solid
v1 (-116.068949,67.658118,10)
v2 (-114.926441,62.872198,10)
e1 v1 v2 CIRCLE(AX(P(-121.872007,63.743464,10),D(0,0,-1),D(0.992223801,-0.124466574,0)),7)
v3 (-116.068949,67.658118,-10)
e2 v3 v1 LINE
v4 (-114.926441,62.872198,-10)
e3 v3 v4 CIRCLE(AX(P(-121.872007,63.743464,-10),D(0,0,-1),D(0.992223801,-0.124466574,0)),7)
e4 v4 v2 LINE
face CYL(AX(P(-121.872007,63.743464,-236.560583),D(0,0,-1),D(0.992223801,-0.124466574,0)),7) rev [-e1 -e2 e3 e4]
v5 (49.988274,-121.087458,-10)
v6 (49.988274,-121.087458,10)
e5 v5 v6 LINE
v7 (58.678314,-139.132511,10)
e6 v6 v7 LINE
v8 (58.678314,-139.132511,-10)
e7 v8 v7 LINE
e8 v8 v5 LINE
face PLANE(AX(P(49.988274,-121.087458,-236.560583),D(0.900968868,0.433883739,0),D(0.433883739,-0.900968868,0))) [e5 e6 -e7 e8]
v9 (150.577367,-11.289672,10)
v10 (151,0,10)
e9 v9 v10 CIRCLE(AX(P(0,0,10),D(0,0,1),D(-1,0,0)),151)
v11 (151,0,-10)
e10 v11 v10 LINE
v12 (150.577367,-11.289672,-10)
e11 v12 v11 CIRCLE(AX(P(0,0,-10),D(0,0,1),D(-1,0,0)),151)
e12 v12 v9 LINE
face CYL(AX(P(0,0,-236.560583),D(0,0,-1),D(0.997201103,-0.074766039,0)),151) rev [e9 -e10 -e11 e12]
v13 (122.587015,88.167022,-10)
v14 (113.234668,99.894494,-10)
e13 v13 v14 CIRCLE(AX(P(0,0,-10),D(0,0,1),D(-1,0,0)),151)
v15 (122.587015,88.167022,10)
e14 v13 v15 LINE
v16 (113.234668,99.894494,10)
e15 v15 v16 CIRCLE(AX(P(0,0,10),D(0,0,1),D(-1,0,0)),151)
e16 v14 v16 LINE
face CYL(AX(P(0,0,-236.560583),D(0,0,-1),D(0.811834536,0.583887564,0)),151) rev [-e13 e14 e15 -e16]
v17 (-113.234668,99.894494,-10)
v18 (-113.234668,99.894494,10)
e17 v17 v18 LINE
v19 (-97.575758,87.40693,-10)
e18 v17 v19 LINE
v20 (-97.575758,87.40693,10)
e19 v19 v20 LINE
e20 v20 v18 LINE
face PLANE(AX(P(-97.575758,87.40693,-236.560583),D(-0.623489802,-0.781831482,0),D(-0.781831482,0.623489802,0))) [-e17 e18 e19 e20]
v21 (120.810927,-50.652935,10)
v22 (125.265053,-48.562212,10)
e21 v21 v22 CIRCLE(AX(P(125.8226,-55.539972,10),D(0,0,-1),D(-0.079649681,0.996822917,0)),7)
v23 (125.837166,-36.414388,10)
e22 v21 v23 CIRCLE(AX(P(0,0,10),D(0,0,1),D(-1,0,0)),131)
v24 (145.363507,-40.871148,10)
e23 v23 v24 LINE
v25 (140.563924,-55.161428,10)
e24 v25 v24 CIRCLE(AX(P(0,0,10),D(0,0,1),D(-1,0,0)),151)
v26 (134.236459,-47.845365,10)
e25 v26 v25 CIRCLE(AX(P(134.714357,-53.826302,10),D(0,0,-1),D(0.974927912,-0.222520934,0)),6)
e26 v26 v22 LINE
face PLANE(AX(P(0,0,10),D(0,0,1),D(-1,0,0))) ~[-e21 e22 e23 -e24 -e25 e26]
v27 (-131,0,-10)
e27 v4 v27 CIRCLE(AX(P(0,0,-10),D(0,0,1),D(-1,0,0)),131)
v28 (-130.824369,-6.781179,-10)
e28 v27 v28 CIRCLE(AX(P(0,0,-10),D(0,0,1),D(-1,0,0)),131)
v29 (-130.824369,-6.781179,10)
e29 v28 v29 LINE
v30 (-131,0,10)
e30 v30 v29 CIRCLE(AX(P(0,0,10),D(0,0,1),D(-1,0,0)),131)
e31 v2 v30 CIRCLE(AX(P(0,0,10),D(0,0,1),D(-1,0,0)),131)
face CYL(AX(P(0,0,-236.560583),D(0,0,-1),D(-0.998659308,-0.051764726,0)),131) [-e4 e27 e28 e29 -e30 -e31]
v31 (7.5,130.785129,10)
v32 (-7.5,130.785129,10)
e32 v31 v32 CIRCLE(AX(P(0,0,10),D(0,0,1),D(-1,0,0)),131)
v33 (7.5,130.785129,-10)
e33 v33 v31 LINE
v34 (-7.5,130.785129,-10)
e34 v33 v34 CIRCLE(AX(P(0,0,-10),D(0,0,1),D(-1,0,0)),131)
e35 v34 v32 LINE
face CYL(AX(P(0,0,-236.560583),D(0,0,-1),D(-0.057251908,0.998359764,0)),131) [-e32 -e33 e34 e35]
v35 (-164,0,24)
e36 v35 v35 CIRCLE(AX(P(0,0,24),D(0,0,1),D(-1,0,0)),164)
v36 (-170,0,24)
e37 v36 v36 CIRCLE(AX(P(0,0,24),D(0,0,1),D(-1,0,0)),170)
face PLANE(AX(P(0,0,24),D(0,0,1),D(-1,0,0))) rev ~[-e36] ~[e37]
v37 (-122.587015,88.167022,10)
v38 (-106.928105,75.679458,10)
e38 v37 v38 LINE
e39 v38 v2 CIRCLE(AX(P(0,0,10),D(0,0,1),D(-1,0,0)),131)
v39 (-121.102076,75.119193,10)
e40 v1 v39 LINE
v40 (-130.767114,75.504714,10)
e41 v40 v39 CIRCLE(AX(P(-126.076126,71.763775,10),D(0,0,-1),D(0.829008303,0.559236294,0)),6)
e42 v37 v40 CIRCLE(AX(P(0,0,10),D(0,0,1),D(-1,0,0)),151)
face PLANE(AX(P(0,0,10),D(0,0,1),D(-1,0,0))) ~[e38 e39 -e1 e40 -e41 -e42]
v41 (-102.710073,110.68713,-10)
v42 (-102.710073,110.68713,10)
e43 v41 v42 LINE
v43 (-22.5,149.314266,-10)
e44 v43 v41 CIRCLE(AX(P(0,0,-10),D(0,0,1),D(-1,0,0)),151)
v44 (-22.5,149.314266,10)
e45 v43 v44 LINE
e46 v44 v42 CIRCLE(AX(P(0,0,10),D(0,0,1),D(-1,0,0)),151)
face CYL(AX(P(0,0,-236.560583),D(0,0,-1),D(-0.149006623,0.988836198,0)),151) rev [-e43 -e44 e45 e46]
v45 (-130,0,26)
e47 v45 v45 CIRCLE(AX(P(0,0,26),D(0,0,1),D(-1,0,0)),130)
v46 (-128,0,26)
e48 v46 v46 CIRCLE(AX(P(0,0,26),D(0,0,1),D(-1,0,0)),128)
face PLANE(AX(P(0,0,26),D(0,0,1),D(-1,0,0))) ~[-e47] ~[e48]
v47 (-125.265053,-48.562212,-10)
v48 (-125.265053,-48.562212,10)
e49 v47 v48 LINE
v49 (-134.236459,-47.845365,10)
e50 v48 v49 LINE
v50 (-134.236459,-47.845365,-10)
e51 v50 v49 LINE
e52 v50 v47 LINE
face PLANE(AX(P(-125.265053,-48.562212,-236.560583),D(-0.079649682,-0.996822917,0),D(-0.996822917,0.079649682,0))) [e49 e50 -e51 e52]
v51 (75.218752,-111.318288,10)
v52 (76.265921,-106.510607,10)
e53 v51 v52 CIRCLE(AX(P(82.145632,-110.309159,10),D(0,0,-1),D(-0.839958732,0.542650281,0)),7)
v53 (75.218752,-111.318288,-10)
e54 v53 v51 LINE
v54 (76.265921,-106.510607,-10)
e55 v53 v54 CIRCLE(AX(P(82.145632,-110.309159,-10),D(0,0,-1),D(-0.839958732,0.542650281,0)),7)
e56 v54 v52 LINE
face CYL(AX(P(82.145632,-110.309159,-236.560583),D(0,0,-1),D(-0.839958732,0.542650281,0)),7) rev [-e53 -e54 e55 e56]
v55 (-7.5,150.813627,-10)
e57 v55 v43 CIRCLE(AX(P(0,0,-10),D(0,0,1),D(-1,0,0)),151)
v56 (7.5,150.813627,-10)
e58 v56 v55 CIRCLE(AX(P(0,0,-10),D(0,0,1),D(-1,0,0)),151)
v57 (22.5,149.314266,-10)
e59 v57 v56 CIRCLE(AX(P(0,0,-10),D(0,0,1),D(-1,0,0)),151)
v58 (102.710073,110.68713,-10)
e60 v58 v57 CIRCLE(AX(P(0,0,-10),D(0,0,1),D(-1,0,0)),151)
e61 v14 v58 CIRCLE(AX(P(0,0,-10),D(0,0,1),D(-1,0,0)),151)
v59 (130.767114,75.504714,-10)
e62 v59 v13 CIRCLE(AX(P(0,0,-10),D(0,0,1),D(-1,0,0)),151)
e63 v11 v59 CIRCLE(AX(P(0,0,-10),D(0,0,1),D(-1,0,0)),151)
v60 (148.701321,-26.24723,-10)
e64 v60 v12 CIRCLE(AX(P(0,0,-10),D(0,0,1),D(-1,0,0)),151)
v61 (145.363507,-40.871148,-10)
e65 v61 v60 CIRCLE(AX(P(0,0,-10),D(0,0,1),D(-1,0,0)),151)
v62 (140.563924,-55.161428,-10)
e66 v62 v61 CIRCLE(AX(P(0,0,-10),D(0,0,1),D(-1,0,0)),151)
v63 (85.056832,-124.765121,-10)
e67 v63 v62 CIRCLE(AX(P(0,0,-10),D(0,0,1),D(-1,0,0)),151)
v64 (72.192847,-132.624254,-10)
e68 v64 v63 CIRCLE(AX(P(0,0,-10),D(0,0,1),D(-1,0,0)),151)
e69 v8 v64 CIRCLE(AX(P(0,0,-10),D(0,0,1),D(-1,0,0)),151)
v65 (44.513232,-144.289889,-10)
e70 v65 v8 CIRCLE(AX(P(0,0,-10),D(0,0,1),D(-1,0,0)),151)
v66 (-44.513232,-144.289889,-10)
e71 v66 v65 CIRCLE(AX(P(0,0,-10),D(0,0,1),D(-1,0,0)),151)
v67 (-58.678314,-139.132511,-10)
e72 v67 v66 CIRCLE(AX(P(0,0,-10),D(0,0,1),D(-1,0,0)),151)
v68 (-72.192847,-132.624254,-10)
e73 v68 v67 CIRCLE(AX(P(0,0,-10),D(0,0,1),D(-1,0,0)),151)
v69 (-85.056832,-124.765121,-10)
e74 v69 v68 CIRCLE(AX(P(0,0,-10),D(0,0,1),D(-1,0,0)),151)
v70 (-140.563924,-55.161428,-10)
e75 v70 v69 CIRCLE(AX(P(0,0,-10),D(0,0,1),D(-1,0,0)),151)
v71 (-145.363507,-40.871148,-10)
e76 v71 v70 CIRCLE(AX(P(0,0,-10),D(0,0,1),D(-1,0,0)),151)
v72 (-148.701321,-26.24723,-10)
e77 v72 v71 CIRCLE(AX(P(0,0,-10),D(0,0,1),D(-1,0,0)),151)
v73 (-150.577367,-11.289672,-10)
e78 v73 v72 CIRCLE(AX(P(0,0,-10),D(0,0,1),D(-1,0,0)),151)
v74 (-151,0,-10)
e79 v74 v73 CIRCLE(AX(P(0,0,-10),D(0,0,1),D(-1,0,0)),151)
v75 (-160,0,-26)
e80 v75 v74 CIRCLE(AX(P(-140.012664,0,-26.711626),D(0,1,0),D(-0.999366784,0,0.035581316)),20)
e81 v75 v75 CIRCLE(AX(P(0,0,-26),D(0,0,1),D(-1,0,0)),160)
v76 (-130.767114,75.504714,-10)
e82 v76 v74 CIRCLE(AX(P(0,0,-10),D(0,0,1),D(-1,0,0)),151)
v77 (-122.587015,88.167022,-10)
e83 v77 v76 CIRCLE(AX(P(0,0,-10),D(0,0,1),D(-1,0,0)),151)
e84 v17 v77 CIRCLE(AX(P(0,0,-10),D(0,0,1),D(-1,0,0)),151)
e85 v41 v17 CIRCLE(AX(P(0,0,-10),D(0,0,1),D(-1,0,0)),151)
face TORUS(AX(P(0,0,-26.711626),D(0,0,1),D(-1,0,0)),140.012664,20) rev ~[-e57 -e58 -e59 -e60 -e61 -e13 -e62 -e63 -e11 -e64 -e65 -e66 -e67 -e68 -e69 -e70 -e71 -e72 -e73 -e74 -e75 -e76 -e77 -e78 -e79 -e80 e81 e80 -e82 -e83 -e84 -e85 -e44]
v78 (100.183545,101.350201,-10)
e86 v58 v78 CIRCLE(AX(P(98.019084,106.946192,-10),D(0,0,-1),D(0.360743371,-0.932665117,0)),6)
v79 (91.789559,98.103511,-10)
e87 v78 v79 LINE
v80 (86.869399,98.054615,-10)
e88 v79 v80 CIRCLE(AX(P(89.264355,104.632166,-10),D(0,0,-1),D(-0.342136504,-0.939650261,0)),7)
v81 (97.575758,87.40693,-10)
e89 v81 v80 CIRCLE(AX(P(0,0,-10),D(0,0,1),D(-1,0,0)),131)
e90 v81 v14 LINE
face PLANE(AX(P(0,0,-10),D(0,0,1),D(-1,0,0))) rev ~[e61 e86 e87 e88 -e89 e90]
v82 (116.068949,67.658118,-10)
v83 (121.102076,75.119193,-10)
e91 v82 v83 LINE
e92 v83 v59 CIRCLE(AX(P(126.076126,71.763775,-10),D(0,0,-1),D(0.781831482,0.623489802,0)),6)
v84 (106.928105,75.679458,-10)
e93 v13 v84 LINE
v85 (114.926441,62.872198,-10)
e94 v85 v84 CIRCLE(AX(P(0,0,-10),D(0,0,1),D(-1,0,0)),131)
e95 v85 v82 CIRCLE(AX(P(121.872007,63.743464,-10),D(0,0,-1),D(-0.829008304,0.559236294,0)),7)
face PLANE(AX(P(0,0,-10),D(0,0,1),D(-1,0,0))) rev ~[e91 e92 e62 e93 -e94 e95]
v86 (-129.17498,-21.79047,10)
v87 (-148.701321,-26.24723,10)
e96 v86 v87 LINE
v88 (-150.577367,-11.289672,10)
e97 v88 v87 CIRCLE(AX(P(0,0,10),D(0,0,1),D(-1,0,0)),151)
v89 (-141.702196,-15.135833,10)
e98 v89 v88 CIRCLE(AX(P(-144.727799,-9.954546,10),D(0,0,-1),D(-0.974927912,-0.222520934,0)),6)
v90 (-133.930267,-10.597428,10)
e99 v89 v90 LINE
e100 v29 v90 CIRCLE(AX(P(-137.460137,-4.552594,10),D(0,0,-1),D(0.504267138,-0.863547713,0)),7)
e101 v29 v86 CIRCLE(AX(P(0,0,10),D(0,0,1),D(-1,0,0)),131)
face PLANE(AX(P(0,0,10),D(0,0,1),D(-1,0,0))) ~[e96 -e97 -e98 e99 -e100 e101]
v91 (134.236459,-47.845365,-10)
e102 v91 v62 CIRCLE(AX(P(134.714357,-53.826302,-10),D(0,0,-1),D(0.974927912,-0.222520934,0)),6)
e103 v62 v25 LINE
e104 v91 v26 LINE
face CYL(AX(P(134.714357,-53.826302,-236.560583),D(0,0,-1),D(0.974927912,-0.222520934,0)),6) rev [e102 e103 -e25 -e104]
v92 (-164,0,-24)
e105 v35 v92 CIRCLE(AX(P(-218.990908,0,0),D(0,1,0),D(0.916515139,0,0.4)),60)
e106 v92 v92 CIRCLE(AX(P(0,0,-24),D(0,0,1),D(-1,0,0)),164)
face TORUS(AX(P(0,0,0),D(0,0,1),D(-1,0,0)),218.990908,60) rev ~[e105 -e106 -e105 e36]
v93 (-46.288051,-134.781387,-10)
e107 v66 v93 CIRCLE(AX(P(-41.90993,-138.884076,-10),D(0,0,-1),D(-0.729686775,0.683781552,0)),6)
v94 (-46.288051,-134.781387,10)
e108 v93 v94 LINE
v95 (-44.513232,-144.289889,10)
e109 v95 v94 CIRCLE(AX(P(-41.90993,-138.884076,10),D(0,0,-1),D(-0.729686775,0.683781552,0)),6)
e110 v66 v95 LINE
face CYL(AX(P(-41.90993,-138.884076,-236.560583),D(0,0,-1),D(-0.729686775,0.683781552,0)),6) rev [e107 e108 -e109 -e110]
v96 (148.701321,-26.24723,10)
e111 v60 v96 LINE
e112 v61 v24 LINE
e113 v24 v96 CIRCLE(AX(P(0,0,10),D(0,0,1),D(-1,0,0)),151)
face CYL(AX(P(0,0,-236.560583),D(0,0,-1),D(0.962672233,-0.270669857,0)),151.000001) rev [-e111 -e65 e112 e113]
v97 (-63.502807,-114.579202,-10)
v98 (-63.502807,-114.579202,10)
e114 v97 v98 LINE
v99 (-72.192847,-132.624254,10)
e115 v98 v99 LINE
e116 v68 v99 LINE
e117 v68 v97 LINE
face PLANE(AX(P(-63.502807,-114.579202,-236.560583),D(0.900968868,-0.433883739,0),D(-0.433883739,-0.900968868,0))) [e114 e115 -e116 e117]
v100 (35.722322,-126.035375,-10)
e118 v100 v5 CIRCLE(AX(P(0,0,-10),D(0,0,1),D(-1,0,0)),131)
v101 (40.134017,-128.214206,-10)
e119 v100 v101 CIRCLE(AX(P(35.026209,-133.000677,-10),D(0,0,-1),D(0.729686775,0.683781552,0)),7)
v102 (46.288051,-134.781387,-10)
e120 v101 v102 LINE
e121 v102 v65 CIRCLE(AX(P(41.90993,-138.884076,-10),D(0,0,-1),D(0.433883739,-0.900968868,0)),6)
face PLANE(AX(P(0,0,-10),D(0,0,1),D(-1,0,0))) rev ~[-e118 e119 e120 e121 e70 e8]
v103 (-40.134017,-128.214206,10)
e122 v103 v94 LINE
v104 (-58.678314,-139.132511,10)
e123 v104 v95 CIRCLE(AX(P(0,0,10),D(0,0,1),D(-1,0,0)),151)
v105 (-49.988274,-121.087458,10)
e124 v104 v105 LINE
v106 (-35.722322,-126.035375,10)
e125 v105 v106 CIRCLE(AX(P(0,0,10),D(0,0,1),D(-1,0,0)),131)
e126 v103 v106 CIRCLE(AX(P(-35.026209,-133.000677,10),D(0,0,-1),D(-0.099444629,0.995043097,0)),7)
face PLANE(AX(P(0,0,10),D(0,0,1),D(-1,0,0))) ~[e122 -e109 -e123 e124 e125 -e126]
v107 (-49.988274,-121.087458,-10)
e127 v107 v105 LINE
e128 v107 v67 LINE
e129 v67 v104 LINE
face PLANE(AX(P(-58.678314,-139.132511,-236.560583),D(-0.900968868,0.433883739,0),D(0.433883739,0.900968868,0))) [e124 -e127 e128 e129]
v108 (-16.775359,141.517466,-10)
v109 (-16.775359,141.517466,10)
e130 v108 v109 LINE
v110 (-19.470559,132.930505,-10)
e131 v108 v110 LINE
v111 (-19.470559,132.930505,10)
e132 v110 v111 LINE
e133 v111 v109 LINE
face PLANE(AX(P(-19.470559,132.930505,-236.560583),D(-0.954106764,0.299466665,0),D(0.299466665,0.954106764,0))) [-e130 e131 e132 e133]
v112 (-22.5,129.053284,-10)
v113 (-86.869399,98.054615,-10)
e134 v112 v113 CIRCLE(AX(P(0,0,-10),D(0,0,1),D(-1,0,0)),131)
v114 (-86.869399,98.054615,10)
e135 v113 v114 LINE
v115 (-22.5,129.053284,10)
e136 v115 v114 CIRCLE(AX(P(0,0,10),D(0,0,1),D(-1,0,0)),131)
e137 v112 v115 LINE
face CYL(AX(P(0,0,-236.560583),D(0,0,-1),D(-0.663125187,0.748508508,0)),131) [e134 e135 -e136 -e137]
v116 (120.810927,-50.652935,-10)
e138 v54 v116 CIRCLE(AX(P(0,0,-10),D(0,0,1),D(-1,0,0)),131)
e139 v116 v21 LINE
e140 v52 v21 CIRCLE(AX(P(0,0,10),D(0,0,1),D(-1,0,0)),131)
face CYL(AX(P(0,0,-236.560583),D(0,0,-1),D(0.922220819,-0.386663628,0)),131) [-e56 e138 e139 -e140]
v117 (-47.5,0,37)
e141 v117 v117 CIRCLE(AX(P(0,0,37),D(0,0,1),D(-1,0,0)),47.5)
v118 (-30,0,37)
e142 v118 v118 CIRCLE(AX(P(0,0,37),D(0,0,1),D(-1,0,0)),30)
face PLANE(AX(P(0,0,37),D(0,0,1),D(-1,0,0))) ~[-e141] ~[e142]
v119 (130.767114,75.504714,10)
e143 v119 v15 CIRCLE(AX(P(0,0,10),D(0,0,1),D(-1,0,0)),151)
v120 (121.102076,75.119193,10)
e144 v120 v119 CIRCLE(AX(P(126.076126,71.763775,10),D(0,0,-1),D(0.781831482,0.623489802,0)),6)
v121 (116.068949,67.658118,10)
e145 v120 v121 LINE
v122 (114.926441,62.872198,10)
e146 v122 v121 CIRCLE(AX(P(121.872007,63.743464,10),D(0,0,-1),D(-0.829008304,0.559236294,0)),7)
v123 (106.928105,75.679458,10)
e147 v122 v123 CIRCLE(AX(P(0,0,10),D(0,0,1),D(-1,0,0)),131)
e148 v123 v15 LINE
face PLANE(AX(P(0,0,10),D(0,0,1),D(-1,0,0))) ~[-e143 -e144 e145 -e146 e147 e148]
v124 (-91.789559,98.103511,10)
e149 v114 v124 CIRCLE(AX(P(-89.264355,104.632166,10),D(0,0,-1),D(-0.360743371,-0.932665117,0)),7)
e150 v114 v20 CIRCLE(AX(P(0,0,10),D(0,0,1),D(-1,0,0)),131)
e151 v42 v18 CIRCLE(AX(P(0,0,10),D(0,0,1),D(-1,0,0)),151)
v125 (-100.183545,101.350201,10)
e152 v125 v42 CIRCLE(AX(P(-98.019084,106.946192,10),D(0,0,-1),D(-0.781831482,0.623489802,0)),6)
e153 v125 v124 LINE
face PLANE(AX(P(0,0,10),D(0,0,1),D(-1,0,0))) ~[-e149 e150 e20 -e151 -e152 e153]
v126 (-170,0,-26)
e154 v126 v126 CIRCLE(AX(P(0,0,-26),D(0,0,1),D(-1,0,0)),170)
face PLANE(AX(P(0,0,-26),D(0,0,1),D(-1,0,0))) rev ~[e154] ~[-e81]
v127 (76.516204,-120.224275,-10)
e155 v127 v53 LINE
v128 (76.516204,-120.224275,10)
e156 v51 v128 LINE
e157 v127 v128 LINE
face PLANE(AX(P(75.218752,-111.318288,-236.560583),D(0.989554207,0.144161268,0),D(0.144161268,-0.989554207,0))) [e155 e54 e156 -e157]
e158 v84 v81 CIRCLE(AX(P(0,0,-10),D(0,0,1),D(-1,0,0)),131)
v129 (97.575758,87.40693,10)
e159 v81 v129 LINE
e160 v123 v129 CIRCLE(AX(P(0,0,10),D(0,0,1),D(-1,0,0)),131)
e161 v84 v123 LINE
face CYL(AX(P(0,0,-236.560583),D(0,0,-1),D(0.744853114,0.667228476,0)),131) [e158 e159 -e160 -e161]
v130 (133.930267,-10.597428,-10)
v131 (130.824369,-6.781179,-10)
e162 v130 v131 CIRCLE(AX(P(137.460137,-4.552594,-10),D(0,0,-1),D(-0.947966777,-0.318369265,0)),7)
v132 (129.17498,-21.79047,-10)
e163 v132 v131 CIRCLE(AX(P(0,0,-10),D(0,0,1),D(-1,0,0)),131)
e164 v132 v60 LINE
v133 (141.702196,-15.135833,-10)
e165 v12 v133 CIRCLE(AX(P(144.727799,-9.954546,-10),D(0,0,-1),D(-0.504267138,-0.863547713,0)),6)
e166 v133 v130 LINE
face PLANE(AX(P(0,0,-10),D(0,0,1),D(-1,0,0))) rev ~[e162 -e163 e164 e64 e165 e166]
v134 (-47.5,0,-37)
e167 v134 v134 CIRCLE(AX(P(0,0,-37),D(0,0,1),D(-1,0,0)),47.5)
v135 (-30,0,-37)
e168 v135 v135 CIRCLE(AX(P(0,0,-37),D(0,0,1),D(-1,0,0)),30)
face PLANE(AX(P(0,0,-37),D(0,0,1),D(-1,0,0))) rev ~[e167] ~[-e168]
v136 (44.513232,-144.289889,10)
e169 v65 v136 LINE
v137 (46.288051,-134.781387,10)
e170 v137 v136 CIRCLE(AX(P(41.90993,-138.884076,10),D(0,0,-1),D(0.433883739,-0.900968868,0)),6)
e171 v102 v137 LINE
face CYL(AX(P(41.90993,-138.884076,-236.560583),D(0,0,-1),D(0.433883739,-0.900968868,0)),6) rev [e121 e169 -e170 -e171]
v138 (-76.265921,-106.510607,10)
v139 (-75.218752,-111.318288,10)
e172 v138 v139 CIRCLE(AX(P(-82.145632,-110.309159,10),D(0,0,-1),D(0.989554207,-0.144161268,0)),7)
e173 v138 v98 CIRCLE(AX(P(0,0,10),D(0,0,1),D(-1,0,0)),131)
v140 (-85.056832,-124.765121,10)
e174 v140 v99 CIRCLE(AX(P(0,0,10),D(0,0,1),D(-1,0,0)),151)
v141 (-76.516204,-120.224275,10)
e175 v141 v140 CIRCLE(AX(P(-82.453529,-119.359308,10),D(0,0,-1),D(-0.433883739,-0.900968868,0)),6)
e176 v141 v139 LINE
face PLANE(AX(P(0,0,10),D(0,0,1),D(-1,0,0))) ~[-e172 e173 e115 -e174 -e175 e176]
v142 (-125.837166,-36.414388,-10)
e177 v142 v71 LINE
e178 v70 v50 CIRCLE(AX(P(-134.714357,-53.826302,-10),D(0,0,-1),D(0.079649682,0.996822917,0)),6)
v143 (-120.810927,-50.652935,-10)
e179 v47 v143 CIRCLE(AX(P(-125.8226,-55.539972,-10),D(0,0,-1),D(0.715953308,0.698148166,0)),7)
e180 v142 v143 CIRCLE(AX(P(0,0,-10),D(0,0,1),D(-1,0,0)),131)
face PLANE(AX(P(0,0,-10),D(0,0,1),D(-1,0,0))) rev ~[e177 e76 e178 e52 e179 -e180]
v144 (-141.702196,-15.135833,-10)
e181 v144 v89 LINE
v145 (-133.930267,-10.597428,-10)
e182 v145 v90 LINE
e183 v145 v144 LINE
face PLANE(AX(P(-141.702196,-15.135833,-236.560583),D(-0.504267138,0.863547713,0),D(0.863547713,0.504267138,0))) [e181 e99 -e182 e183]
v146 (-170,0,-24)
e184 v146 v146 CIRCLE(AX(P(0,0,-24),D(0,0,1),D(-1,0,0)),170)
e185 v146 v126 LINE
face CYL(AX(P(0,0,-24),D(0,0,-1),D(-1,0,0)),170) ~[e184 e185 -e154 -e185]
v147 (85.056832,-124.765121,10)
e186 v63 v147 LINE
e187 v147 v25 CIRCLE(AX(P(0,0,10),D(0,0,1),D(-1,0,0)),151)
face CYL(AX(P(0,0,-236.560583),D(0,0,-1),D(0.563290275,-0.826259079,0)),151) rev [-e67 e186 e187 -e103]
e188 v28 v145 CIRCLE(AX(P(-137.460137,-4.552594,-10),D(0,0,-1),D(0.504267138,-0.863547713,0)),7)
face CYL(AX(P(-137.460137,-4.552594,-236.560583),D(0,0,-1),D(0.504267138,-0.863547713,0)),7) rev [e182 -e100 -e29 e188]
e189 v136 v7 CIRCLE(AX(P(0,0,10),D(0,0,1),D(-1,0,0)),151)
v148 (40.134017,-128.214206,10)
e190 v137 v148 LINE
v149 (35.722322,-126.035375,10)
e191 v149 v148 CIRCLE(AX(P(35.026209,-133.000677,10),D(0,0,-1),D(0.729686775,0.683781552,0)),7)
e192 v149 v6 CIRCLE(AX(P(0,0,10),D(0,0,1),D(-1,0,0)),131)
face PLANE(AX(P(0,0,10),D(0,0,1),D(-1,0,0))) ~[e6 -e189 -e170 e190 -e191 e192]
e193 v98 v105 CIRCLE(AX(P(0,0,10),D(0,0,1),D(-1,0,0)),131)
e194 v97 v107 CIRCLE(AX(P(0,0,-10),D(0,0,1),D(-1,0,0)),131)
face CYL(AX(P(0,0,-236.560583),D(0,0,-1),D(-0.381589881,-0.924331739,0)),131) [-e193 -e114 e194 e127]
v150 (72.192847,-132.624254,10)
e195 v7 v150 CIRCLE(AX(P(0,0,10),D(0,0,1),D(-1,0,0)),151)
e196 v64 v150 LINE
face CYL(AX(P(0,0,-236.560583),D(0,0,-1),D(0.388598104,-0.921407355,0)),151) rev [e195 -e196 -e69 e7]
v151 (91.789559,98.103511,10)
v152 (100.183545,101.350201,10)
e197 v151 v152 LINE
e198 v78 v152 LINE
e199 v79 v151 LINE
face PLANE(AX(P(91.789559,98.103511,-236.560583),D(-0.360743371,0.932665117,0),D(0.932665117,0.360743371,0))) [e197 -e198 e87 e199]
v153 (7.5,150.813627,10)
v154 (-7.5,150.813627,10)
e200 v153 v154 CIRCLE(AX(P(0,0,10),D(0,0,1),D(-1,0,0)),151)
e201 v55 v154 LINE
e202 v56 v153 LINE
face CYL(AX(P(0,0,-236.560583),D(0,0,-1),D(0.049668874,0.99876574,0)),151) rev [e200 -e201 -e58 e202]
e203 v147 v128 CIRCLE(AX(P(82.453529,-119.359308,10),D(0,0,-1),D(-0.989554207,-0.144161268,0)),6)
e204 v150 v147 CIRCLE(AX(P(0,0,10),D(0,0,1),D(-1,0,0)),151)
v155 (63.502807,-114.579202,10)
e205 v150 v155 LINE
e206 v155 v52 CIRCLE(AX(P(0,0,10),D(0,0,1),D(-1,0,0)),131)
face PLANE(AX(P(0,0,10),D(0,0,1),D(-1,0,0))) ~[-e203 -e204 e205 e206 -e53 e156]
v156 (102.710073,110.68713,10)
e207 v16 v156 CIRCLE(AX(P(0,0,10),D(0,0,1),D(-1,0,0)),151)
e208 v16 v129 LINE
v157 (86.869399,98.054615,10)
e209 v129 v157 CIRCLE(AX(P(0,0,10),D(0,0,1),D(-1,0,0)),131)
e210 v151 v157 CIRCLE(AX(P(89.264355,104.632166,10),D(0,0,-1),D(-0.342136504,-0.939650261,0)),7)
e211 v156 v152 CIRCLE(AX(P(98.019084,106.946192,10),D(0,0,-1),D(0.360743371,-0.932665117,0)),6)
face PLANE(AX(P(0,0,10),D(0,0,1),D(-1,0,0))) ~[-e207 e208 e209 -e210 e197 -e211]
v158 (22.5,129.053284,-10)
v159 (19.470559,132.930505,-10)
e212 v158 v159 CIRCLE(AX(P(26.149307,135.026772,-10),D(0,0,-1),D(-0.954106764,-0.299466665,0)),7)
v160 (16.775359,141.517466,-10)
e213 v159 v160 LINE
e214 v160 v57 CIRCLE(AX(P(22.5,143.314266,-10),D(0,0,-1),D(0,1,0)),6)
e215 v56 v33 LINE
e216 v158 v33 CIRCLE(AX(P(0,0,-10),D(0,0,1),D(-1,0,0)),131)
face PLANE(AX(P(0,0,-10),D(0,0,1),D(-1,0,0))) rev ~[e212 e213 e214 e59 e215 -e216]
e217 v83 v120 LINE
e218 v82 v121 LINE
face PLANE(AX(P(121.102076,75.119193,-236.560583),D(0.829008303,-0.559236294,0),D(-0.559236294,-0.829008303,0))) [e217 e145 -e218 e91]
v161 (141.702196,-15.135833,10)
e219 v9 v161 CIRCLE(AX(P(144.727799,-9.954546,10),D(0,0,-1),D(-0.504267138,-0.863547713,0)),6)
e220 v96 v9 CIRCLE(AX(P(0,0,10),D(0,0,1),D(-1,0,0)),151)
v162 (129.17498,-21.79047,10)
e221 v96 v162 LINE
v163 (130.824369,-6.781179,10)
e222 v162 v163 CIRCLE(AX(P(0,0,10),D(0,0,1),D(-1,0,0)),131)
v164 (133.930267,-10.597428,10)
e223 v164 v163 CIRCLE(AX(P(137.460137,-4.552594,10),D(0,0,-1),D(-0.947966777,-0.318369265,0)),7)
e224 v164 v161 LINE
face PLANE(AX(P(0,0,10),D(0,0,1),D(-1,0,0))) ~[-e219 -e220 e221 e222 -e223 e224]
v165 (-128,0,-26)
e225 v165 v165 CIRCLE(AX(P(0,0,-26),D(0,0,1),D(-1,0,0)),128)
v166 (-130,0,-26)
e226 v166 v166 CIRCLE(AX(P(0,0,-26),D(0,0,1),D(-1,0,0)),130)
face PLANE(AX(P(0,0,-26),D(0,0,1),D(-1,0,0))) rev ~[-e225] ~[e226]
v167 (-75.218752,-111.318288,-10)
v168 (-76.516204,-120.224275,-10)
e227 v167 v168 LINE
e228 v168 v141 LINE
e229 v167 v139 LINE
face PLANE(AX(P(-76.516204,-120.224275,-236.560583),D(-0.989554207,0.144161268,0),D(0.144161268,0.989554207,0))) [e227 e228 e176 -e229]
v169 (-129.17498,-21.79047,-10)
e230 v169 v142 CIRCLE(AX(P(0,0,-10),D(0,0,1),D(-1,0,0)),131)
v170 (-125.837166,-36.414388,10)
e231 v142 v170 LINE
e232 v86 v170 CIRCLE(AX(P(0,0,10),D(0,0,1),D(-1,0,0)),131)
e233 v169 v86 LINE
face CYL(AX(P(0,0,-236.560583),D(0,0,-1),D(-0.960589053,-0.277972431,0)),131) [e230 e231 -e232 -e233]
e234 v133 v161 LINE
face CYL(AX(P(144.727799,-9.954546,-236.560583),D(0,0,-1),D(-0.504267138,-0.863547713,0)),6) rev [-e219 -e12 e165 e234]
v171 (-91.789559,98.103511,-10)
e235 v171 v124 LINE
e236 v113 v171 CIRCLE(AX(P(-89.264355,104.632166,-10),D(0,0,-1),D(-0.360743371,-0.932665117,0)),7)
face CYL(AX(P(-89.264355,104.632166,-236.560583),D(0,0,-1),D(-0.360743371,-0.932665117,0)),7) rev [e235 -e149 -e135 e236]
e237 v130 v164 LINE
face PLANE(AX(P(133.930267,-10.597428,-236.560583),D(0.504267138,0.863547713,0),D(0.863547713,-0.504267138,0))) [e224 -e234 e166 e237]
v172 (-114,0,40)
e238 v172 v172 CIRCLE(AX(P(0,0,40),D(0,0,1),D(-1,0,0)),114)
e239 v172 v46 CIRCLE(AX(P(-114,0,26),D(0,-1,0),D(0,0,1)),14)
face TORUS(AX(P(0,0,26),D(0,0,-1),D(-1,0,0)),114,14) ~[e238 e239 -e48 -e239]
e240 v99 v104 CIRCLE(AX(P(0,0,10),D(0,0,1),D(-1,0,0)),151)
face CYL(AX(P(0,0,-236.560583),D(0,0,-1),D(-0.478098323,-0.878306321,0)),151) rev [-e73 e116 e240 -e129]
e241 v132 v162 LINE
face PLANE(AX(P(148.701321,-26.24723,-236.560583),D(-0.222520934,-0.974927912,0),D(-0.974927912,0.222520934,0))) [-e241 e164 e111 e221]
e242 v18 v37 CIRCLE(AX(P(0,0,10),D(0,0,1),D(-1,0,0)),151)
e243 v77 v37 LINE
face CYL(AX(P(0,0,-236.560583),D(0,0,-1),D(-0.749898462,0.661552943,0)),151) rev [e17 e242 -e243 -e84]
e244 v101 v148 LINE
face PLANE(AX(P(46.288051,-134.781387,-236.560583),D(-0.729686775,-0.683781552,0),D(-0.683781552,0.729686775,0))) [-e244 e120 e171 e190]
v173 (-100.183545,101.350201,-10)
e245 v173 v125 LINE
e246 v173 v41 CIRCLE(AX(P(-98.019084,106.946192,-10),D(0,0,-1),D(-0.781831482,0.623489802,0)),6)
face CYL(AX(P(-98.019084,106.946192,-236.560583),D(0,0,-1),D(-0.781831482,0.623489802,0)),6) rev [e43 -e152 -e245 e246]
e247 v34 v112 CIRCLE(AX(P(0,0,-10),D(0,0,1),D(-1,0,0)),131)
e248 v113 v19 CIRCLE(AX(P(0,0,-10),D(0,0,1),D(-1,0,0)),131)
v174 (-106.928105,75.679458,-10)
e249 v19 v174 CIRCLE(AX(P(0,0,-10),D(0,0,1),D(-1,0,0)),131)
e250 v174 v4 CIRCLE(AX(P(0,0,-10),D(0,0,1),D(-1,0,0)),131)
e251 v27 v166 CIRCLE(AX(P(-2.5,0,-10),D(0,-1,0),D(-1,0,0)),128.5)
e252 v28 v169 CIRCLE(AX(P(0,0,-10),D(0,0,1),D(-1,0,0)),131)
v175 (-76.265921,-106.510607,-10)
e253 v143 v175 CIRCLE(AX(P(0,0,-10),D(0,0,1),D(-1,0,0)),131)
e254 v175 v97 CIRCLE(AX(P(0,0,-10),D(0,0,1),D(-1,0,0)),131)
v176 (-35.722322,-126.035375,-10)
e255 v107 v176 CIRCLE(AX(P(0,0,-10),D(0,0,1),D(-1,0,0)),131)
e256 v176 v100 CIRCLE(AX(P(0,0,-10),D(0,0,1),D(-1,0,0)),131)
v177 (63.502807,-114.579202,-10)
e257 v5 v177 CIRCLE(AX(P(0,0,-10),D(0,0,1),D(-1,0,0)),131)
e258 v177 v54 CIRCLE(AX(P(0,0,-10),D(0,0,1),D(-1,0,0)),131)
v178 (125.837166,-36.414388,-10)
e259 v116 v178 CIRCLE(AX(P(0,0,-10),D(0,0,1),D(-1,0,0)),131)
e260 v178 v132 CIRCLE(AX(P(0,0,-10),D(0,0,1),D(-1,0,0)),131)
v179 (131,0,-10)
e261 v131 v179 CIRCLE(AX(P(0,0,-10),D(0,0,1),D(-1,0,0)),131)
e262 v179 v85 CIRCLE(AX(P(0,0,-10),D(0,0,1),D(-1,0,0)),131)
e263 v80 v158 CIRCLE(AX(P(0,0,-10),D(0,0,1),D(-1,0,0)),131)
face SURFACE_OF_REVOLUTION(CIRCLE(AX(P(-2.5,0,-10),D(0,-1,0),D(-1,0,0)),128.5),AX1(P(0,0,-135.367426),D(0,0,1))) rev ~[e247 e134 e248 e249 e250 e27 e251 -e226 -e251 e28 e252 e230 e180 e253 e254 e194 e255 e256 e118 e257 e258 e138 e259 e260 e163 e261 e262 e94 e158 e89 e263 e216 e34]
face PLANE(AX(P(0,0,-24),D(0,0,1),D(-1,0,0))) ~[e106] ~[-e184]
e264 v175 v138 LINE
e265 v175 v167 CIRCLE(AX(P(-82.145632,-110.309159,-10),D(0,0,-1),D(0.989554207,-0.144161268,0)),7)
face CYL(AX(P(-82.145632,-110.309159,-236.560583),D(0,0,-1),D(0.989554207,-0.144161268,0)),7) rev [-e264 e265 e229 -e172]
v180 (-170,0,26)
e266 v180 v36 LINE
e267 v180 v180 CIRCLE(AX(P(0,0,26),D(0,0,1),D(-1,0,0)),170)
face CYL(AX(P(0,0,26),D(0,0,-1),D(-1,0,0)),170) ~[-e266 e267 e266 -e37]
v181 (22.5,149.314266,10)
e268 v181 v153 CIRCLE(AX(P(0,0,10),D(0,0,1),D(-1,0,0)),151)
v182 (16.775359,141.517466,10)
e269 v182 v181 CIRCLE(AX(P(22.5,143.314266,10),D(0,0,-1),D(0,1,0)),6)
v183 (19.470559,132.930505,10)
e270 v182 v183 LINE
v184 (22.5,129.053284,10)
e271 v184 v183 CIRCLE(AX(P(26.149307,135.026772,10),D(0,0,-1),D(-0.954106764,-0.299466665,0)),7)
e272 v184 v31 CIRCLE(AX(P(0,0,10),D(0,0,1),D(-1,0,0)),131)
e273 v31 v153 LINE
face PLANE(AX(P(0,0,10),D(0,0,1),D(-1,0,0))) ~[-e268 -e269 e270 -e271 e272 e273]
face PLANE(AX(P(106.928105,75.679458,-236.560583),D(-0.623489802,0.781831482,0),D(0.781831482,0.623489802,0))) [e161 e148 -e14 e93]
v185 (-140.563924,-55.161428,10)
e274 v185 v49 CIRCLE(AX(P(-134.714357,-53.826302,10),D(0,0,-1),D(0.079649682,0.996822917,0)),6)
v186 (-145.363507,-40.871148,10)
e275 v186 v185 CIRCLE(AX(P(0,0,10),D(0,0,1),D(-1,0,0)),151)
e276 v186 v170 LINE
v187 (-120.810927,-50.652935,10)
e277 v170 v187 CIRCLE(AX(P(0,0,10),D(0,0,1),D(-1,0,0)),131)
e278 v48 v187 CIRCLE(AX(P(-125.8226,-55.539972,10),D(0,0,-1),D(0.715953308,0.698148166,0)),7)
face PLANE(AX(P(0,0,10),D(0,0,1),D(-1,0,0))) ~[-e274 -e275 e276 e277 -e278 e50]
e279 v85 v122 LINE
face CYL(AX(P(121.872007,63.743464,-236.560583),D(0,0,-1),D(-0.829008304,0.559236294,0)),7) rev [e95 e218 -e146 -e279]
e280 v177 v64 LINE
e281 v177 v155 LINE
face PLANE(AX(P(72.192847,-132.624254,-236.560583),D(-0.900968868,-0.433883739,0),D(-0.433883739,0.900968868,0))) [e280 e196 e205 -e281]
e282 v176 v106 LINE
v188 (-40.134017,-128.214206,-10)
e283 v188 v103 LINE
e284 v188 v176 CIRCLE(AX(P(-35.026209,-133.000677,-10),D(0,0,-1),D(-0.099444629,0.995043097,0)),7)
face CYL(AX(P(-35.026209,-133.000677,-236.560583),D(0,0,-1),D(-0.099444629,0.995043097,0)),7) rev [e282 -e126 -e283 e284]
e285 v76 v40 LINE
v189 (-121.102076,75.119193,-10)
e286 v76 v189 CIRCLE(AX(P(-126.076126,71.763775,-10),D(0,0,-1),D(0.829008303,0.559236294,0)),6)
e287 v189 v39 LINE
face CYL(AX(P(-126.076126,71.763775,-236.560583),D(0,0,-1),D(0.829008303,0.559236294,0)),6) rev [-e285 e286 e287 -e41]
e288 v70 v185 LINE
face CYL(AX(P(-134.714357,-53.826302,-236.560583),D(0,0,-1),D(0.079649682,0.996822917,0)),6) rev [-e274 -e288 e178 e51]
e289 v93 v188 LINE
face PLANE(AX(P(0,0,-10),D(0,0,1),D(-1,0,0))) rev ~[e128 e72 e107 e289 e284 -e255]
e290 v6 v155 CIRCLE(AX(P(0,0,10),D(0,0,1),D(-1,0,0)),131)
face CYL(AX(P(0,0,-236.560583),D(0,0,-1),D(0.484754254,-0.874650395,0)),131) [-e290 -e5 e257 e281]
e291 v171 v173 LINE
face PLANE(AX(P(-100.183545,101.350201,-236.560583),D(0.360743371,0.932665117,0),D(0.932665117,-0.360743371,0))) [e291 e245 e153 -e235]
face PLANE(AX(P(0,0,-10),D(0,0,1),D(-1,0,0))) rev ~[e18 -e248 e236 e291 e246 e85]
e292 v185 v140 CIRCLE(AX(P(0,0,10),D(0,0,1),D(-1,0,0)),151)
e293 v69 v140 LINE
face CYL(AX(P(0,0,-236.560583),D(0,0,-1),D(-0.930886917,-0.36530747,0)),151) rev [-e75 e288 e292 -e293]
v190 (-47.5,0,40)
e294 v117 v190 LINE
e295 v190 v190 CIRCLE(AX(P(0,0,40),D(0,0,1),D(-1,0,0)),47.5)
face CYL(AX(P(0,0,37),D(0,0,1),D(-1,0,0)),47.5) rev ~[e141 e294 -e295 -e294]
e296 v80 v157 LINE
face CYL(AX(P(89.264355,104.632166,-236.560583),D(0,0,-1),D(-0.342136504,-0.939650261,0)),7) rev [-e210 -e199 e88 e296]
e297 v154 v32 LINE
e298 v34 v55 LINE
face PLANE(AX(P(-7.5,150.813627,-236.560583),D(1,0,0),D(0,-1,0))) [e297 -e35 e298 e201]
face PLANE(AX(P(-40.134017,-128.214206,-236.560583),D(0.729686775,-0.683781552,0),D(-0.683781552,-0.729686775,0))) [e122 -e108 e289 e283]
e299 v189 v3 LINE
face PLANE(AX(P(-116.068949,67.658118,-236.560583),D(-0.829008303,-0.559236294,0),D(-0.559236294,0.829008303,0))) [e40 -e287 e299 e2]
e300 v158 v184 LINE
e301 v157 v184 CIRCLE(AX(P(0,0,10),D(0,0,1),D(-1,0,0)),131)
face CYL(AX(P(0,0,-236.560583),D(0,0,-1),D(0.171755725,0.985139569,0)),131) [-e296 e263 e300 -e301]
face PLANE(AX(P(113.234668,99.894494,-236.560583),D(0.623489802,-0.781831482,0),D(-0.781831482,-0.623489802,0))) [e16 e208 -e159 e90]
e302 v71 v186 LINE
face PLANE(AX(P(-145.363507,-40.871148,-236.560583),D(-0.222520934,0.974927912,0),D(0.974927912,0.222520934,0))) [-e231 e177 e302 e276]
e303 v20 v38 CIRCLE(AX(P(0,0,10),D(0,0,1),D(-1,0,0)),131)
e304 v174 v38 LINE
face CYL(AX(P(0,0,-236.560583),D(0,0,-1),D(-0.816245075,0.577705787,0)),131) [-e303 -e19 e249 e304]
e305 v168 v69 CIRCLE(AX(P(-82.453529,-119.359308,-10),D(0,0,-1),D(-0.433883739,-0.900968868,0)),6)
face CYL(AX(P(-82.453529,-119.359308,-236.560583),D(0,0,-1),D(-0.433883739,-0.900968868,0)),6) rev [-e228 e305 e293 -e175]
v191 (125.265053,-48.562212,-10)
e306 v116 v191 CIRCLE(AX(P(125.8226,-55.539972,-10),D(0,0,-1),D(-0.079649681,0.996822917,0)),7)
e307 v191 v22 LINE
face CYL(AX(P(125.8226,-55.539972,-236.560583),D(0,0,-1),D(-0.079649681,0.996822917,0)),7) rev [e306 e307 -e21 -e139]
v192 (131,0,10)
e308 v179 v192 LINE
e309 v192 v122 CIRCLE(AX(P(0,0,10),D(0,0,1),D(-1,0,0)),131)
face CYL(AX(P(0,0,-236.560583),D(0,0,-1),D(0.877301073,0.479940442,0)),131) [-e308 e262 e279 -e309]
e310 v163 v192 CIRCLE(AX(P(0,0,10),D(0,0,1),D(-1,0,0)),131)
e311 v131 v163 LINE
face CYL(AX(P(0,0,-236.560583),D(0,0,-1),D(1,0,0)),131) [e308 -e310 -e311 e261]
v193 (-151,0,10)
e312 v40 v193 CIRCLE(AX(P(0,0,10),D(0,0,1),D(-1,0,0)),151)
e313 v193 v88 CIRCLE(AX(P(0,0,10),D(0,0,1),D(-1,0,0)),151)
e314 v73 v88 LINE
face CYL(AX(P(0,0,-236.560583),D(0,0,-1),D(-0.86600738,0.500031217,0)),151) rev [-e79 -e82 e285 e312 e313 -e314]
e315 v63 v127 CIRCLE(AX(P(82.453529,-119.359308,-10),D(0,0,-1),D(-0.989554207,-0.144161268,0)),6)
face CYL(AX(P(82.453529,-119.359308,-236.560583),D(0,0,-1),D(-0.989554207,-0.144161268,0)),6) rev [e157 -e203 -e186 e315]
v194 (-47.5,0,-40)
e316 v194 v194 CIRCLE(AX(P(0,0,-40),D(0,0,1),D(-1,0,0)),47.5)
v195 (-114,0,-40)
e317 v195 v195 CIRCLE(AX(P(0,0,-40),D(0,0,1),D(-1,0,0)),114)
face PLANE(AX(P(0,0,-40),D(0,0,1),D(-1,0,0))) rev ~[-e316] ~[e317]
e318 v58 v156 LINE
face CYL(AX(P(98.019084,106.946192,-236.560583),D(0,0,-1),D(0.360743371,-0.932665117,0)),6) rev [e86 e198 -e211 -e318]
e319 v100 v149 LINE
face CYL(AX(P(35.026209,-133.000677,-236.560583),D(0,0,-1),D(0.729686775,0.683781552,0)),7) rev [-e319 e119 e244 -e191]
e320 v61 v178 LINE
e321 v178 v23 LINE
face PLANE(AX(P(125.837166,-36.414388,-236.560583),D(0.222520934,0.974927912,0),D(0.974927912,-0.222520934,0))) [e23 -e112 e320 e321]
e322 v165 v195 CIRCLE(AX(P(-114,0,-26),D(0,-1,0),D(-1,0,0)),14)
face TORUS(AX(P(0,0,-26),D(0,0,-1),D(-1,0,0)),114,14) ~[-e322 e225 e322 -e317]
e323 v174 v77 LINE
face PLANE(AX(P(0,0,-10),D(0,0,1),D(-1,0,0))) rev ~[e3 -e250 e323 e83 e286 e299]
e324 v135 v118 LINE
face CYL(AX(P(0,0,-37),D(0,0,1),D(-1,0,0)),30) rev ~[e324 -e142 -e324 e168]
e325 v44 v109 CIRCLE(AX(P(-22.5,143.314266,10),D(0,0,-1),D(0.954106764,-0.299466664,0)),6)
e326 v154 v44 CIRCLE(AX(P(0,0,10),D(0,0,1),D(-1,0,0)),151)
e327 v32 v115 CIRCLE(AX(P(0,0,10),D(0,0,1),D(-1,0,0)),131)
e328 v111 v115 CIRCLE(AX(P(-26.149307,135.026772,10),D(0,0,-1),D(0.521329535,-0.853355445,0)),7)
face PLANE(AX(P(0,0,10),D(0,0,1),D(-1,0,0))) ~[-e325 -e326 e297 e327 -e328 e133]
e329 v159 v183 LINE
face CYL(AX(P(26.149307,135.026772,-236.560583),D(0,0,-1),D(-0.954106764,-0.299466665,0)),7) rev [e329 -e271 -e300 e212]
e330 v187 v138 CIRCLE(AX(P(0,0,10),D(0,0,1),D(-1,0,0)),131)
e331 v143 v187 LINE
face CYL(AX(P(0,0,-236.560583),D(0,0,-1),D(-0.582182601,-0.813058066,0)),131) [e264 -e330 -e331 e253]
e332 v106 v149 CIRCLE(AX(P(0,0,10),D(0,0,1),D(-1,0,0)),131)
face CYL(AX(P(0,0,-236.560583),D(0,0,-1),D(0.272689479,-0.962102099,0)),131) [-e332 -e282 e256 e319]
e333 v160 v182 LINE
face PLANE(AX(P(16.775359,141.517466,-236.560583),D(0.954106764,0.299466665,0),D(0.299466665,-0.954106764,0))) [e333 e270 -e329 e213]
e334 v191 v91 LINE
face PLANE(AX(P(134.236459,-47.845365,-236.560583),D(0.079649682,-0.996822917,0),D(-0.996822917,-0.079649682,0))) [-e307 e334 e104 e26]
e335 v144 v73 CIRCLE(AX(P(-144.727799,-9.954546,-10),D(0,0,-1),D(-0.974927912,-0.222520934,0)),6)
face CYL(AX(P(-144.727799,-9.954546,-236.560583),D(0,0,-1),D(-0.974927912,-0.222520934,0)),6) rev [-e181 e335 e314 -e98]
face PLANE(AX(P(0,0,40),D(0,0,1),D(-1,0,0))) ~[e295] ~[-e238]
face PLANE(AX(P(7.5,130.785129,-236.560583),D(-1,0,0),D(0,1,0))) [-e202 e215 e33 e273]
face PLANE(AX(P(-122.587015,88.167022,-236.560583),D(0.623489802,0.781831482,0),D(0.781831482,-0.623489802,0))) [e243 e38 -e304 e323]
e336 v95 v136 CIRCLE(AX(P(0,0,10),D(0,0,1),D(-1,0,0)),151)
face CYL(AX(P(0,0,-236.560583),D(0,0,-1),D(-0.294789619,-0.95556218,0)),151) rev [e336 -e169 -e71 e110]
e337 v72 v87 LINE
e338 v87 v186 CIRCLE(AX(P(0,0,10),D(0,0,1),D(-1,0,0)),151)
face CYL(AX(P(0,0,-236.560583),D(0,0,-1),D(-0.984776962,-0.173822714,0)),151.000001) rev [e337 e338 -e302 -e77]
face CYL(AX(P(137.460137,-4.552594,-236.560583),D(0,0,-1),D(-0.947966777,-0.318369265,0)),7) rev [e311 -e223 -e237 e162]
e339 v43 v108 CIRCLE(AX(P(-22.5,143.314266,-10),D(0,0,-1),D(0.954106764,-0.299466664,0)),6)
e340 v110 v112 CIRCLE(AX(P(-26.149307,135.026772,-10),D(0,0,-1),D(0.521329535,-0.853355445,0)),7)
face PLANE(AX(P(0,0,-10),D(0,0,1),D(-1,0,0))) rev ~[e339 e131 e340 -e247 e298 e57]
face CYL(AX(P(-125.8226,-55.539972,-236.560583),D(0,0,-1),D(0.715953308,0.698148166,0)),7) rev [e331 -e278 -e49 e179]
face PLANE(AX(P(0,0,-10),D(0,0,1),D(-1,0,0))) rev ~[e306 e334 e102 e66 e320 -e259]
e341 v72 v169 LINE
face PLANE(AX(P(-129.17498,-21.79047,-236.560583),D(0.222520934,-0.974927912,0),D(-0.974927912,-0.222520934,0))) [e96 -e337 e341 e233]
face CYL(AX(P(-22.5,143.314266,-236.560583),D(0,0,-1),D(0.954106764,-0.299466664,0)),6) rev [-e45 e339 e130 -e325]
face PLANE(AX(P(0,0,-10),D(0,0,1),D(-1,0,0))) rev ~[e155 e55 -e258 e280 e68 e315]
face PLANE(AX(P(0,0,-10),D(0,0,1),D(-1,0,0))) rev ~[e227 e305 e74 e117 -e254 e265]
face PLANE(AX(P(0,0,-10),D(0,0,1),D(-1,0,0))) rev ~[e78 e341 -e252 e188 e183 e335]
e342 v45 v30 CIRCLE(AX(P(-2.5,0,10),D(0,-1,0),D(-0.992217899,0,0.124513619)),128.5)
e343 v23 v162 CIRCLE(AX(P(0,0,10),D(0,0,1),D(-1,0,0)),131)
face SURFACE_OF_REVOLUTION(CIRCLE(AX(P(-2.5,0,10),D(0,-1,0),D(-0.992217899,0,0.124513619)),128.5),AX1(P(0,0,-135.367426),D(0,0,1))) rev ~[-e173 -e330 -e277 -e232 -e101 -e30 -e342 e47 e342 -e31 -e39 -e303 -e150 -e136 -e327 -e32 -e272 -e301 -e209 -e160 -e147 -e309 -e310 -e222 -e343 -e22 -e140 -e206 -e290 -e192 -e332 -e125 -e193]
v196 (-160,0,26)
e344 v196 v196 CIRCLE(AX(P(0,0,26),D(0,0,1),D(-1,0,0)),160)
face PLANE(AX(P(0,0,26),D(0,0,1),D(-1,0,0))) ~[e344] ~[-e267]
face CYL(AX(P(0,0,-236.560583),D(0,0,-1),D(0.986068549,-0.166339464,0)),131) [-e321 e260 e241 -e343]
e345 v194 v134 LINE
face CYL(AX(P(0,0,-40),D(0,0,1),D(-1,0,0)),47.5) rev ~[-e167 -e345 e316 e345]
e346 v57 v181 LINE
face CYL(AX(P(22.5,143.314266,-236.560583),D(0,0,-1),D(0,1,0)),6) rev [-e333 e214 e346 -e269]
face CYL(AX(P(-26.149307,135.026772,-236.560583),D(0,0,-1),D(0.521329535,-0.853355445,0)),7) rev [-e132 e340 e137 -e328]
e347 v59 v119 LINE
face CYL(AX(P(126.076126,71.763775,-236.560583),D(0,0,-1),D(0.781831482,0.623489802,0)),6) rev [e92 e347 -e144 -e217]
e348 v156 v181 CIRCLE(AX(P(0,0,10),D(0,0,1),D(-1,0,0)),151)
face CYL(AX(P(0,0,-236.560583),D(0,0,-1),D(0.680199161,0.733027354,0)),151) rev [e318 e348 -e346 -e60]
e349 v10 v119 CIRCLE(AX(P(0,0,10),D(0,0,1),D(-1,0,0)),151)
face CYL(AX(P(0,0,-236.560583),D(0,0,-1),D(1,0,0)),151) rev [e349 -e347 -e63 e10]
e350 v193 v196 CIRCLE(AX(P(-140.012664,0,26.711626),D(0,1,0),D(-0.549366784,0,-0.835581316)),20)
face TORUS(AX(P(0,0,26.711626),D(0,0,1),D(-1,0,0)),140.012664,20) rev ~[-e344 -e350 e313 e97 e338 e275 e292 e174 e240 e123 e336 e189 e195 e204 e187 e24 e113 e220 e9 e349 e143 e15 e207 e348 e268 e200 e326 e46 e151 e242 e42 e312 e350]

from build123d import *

# Parameters (mm, degrees)
CUT_EXTRUDE1_DEPTH      = 246.560583156
CUT_EXTRUDE1_DEPTH_BACK = 246.560583156


with BuildPart() as part:
    # Sketch2 → Revolve1 (revolve)
    with BuildSketch(Plane(origin=(0, 0, 0), x_dir=(1, 0, 0), z_dir=(0, 1, 0))):
        with BuildLine():
            Line((-47.5, -40), (-114, -40))
            ThreePointArc((-114, -40), (-123.899494937, -35.899494937), (-128, -26))
            Line((-128, -26), (-130, -26))
            ThreePointArc((-130, -26), (-130.749756335, -18.015609771), (-131, -10))
            Line((-131, -10), (-151, -10))
            ThreePointArc((-151, -10), (-157.444175053, -16.906401533), (-160, -26))
            Line((-160, -26), (-170, -26))
            Line((-170, -26), (-170, -24))
            Line((-170, -24), (-164, -24))
            ThreePointArc((-164, -24), (-158.990908339, 0), (-164, 24))
            Line((-164, 24), (-170, 24))
            Line((-170, 24), (-170, 26))
            Line((-170, 26), (-160, 26))
            ThreePointArc((-160, 26), (-157.444175053, 16.906401533), (-151, 10))
            Line((-151, 10), (-131, 10))
            ThreePointArc((-131, 10), (-130.749756335, 18.015609771), (-130, 26))
            Line((-130, 26), (-128, 26))
            ThreePointArc((-128, 26), (-123.899494937, 35.899494937), (-114, 40))
            Line((-114, 40), (-47.5, 40))
            Line((-47.5, 40), (-47.5, 37))
            Line((-47.5, 37), (-30, 37))
            Line((-30, 37), (-30, -37))
            Line((-30, -37), (-47.5, -37))
            Line((-47.5, -37), (-47.5, -40))
        make_face()
    revolve(axis=Axis((0, 0, -135.367425902), (0, 0, 1)))

    # Sketch3 → Cut-Extrude1 (cut, two sides: drawn at the far end of the back side and taken through both)
    with BuildSketch(Plane.XY.offset(10).offset(-CUT_EXTRUDE1_DEPTH_BACK)):
        with BuildLine():
            ThreePointArc((-16.775359417, 141.517465908), (-17.663637735, 146.86526576), (-22.5, 149.314265896))
            ThreePointArc((-22.5, 149.314265896), (-65.516444607, 136.046299053), (-102.710073317, 110.687130414))
            ThreePointArc((-102.710073317, 110.687130414), (-103.810790461, 105.378983525), (-100.183544647, 101.350200901))
            Line((-100.183544647, 101.350200901), (-91.789558594, 98.103510563))
            ThreePointArc((-91.789558594, 98.103510563), (-89.333916802, 97.632512022), (-86.869399468, 98.054614557))
            ThreePointArc((-86.869399468, 98.054614557), (-56.838769824, 118.026921695), (-22.5, 129.053283569))
            ThreePointArc((-22.5, 129.053283569), (-20.633385525, 130.716944184), (-19.470559398, 132.930505034))
            Line((-19.470559398, 132.930505034), (-16.775359417, 141.517465908))
        make_face()
        with BuildLine():
            Line((-97.575757874, 87.406930362), (-113.234667829, 99.894494351))
            ThreePointArc((-113.234667829, 99.894494351), (-118.056553853, 94.146960081), (-122.587014857, 88.167022114))
            Line((-122.587014857, 88.167022114), (-106.928104902, 75.679458125))
            ThreePointArc((-106.928104902, 75.679458125), (-102.419924203, 81.677164043), (-97.575757874, 87.406930362))
        make_face()
        with BuildLine():
            ThreePointArc((-121.102075685, 75.119192657), (-125.836986444, 77.759007373), (-130.767114401, 75.504713703))
            ThreePointArc((-130.767114401, 75.504713703), (-147.214114739, 33.600661027), (-150.577366523, -11.289671876))
            ThreePointArc((-150.577366523, -11.289671876), (-147.113576085, -15.459822645), (-141.70219622, -15.135832553))
            Line((-141.70219622, -15.135832553), (-133.9302668, -10.597428308))
            ThreePointArc((-133.9302668, -10.597428308), (-132.030957698, -8.971193032), (-130.824369324, -6.781179166))
            ThreePointArc((-130.824369324, -6.781179166), (-127.715556496, 29.150242348), (-114.926440552, 62.872197846))
            ThreePointArc((-114.926440552, 62.872197846), (-115.063327708, 65.368851235), (-116.068949037, 67.658117926))
            Line((-116.068949037, 67.658117926), (-121.102075685, 75.119192657))
        make_face()
        with BuildLine():
            Line((-129.174979886, -21.790469739), (-148.701321217, -26.247229726))
            ThreePointArc((-148.701321217, -26.247229726), (-147.214114739, -33.600661027), (-145.363507208, -40.871148409))
            Line((-145.363507208, -40.871148409), (-125.837165877, -36.414388422))
            ThreePointArc((-125.837165877, -36.414388422), (-127.715556496, -29.150242348), (-129.174979886, -21.790469739))
        make_face()
        with BuildLine():
            ThreePointArc((-134.23645893, -47.845364818), (-139.252517754, -49.901369561), (-140.563924495, -55.161427924))
            ThreePointArc((-140.563924495, -55.161427924), (-118.056553853, -94.146960081), (-85.056831518, -124.765120976))
            ThreePointArc((-85.056831518, -124.765120976), (-79.636838347, -124.65706704), (-76.516203841, -120.224275379))
            Line((-76.516203841, -120.224275379), (-75.218752425, -111.318287515))
            ThreePointArc((-75.218752425, -111.318287515), (-75.305994506, -108.819406755), (-76.265920748, -106.510606666))
            ThreePointArc((-76.265920748, -106.510606666), (-102.419924203, -81.677164043), (-120.810927296, -50.652935214))
            ThreePointArc((-120.810927296, -50.652935214), (-122.848237262, -49.203319975), (-125.265052676, -48.562211955))
            Line((-125.265052676, -48.562211955), (-134.23645893, -47.845364818))
        make_face()
        with BuildLine():
            Line((-63.502807355, -114.579201682), (-72.192846774, -132.624254474))
            ThreePointArc((-72.192846774, -132.624254474), (-65.516444607, -136.046299053), (-58.678313755, -139.13251056))
            Line((-58.678313755, -139.13251056), (-49.988274336, -121.087457769))
            ThreePointArc((-49.988274336, -121.087457769), (-56.838769824, -118.026921695), (-63.502807355, -114.579201682))
        make_face()
        with BuildLine():
            ThreePointArc((-46.288050676, -134.781386717), (-47.808062962, -139.984997413), (-44.513232463, -144.289889236))
            ThreePointArc((-44.513232463, -144.289889236), (0, -151), (44.513232463, -144.289889236))
            ThreePointArc((44.513232463, -144.289889236), (47.808062962, -139.984997413), (46.288050676, -134.781386717))
            Line((46.288050676, -134.781386717), (40.134016708, -128.214205744))
            ThreePointArc((40.134016708, -128.214205744), (38.125918511, -126.724387679), (35.722321693, -126.035374927))
            ThreePointArc((35.722321693, -126.035374927), (0, -131), (-35.722321693, -126.035374927))
            ThreePointArc((-35.722321693, -126.035374927), (-38.125918511, -126.724387679), (-40.134016708, -128.214205744))
            Line((-40.134016708, -128.214205744), (-46.288050676, -134.781386717))
        make_face()
        with BuildLine():
            ThreePointArc((85.056831518, -124.765120976), (118.056553853, -94.146960081), (140.563924495, -55.161427924))
            ThreePointArc((140.563924495, -55.161427924), (139.252517754, -49.901369561), (134.23645893, -47.845364818))
            Line((134.23645893, -47.845364818), (125.265052676, -48.562211955))
            ThreePointArc((125.265052676, -48.562211955), (122.848237262, -49.203319975), (120.810927296, -50.652935214))
            ThreePointArc((120.810927296, -50.652935214), (102.419924203, -81.677164043), (76.265920748, -106.510606666))
            ThreePointArc((76.265920748, -106.510606666), (75.305994506, -108.819406755), (75.218752425, -111.318287515))
            Line((75.218752425, -111.318287515), (76.516203841, -120.224275379))
            ThreePointArc((76.516203841, -120.224275379), (79.636838347, -124.65706704), (85.056831518, -124.765120976))
        make_face()
        with BuildLine():
            ThreePointArc((145.363507208, -40.871148409), (147.214114739, -33.600661027), (148.701321217, -26.247229726))
            Line((148.701321217, -26.247229726), (129.174979886, -21.790469739))
            ThreePointArc((129.174979886, -21.790469739), (127.715556496, -29.150242348), (125.837165877, -36.414388422))
            Line((125.837165877, -36.414388422), (145.363507208, -40.871148409))
        make_face()
        with BuildLine():
            ThreePointArc((151, 0), (145.854095374, 39.084304557), (130.767114401, 75.504713703))
            ThreePointArc((130.767114401, 75.504713703), (125.836986444, 77.759007373), (121.102075685, 75.119192657))
            Line((121.102075685, 75.119192657), (116.068949037, 67.658117926))
            ThreePointArc((116.068949037, 67.658117926), (115.063327708, 65.368851235), (114.926440552, 62.872197846))
            ThreePointArc((114.926440552, 62.872197846), (126.918012339, 32.447159257), (131, 0))
            ThreePointArc((131, 0), (130.95608497, -3.391726589), (130.824369324, -6.781179166))
            ThreePointArc((130.824369324, -6.781179166), (132.030957698, -8.971193032), (133.9302668, -10.597428308))
            Line((133.9302668, -10.597428308), (141.70219622, -15.135832553))
            ThreePointArc((141.70219622, -15.135832553), (147.113576085, -15.459822645), (150.577366523, -11.289671876))
            ThreePointArc((150.577366523, -11.289671876), (150.894304639, -5.648789917), (151, 0))
        make_face()
        with BuildLine():
            ThreePointArc((122.587014857, 88.167022114), (118.056553853, 94.146960081), (113.234667829, 99.894494351))
            Line((113.234667829, 99.894494351), (97.575757874, 87.406930362))
            ThreePointArc((97.575757874, 87.406930362), (102.419924203, 81.677164043), (106.928104902, 75.679458125))
            Line((106.928104902, 75.679458125), (122.587014857, 88.167022114))
        make_face()
        with BuildLine():
            ThreePointArc((102.710073317, 110.687130414), (65.516444607, 136.046299053), (22.5, 149.314265896))
            ThreePointArc((22.5, 149.314265896), (17.663637735, 146.86526576), (16.775359417, 141.517465908))
            Line((16.775359417, 141.517465908), (19.470559398, 132.930505034))
            ThreePointArc((19.470559398, 132.930505034), (20.633385525, 130.716944184), (22.5, 129.053283569))
            ThreePointArc((22.5, 129.053283569), (56.838769824, 118.026921695), (86.869399468, 98.054614557))
            ThreePointArc((86.869399468, 98.054614557), (89.333916802, 97.632512022), (91.789558594, 98.103510563))
            Line((91.789558594, 98.103510563), (100.183544647, 101.350200901))
            ThreePointArc((100.183544647, 101.350200901), (103.810790461, 105.378983525), (102.710073317, 110.687130414))
        make_face()
        with BuildLine():
            ThreePointArc((7.5, 150.813626705), (0, 151), (-7.5, 150.813626705))
            Line((-7.5, 150.813626705), (-7.5, 130.785129124))
            ThreePointArc((-7.5, 130.785129124), (0, 131), (7.5, 130.785129124))
            Line((7.5, 130.785129124), (7.5, 150.813626705))
        make_face()
        with BuildLine():
            ThreePointArc((58.678313755, -139.13251056), (65.516444607, -136.046299053), (72.192846774, -132.624254474))
            Line((72.192846774, -132.624254474), (63.502807355, -114.579201682))
            ThreePointArc((63.502807355, -114.579201682), (56.838769824, -118.026921695), (49.988274336, -121.087457769))
            Line((49.988274336, -121.087457769), (58.678313755, -139.13251056))
        make_face()
    extrude(amount=CUT_EXTRUDE1_DEPTH + CUT_EXTRUDE1_DEPTH_BACK, mode=Mode.SUBTRACT)


solid = part.part
